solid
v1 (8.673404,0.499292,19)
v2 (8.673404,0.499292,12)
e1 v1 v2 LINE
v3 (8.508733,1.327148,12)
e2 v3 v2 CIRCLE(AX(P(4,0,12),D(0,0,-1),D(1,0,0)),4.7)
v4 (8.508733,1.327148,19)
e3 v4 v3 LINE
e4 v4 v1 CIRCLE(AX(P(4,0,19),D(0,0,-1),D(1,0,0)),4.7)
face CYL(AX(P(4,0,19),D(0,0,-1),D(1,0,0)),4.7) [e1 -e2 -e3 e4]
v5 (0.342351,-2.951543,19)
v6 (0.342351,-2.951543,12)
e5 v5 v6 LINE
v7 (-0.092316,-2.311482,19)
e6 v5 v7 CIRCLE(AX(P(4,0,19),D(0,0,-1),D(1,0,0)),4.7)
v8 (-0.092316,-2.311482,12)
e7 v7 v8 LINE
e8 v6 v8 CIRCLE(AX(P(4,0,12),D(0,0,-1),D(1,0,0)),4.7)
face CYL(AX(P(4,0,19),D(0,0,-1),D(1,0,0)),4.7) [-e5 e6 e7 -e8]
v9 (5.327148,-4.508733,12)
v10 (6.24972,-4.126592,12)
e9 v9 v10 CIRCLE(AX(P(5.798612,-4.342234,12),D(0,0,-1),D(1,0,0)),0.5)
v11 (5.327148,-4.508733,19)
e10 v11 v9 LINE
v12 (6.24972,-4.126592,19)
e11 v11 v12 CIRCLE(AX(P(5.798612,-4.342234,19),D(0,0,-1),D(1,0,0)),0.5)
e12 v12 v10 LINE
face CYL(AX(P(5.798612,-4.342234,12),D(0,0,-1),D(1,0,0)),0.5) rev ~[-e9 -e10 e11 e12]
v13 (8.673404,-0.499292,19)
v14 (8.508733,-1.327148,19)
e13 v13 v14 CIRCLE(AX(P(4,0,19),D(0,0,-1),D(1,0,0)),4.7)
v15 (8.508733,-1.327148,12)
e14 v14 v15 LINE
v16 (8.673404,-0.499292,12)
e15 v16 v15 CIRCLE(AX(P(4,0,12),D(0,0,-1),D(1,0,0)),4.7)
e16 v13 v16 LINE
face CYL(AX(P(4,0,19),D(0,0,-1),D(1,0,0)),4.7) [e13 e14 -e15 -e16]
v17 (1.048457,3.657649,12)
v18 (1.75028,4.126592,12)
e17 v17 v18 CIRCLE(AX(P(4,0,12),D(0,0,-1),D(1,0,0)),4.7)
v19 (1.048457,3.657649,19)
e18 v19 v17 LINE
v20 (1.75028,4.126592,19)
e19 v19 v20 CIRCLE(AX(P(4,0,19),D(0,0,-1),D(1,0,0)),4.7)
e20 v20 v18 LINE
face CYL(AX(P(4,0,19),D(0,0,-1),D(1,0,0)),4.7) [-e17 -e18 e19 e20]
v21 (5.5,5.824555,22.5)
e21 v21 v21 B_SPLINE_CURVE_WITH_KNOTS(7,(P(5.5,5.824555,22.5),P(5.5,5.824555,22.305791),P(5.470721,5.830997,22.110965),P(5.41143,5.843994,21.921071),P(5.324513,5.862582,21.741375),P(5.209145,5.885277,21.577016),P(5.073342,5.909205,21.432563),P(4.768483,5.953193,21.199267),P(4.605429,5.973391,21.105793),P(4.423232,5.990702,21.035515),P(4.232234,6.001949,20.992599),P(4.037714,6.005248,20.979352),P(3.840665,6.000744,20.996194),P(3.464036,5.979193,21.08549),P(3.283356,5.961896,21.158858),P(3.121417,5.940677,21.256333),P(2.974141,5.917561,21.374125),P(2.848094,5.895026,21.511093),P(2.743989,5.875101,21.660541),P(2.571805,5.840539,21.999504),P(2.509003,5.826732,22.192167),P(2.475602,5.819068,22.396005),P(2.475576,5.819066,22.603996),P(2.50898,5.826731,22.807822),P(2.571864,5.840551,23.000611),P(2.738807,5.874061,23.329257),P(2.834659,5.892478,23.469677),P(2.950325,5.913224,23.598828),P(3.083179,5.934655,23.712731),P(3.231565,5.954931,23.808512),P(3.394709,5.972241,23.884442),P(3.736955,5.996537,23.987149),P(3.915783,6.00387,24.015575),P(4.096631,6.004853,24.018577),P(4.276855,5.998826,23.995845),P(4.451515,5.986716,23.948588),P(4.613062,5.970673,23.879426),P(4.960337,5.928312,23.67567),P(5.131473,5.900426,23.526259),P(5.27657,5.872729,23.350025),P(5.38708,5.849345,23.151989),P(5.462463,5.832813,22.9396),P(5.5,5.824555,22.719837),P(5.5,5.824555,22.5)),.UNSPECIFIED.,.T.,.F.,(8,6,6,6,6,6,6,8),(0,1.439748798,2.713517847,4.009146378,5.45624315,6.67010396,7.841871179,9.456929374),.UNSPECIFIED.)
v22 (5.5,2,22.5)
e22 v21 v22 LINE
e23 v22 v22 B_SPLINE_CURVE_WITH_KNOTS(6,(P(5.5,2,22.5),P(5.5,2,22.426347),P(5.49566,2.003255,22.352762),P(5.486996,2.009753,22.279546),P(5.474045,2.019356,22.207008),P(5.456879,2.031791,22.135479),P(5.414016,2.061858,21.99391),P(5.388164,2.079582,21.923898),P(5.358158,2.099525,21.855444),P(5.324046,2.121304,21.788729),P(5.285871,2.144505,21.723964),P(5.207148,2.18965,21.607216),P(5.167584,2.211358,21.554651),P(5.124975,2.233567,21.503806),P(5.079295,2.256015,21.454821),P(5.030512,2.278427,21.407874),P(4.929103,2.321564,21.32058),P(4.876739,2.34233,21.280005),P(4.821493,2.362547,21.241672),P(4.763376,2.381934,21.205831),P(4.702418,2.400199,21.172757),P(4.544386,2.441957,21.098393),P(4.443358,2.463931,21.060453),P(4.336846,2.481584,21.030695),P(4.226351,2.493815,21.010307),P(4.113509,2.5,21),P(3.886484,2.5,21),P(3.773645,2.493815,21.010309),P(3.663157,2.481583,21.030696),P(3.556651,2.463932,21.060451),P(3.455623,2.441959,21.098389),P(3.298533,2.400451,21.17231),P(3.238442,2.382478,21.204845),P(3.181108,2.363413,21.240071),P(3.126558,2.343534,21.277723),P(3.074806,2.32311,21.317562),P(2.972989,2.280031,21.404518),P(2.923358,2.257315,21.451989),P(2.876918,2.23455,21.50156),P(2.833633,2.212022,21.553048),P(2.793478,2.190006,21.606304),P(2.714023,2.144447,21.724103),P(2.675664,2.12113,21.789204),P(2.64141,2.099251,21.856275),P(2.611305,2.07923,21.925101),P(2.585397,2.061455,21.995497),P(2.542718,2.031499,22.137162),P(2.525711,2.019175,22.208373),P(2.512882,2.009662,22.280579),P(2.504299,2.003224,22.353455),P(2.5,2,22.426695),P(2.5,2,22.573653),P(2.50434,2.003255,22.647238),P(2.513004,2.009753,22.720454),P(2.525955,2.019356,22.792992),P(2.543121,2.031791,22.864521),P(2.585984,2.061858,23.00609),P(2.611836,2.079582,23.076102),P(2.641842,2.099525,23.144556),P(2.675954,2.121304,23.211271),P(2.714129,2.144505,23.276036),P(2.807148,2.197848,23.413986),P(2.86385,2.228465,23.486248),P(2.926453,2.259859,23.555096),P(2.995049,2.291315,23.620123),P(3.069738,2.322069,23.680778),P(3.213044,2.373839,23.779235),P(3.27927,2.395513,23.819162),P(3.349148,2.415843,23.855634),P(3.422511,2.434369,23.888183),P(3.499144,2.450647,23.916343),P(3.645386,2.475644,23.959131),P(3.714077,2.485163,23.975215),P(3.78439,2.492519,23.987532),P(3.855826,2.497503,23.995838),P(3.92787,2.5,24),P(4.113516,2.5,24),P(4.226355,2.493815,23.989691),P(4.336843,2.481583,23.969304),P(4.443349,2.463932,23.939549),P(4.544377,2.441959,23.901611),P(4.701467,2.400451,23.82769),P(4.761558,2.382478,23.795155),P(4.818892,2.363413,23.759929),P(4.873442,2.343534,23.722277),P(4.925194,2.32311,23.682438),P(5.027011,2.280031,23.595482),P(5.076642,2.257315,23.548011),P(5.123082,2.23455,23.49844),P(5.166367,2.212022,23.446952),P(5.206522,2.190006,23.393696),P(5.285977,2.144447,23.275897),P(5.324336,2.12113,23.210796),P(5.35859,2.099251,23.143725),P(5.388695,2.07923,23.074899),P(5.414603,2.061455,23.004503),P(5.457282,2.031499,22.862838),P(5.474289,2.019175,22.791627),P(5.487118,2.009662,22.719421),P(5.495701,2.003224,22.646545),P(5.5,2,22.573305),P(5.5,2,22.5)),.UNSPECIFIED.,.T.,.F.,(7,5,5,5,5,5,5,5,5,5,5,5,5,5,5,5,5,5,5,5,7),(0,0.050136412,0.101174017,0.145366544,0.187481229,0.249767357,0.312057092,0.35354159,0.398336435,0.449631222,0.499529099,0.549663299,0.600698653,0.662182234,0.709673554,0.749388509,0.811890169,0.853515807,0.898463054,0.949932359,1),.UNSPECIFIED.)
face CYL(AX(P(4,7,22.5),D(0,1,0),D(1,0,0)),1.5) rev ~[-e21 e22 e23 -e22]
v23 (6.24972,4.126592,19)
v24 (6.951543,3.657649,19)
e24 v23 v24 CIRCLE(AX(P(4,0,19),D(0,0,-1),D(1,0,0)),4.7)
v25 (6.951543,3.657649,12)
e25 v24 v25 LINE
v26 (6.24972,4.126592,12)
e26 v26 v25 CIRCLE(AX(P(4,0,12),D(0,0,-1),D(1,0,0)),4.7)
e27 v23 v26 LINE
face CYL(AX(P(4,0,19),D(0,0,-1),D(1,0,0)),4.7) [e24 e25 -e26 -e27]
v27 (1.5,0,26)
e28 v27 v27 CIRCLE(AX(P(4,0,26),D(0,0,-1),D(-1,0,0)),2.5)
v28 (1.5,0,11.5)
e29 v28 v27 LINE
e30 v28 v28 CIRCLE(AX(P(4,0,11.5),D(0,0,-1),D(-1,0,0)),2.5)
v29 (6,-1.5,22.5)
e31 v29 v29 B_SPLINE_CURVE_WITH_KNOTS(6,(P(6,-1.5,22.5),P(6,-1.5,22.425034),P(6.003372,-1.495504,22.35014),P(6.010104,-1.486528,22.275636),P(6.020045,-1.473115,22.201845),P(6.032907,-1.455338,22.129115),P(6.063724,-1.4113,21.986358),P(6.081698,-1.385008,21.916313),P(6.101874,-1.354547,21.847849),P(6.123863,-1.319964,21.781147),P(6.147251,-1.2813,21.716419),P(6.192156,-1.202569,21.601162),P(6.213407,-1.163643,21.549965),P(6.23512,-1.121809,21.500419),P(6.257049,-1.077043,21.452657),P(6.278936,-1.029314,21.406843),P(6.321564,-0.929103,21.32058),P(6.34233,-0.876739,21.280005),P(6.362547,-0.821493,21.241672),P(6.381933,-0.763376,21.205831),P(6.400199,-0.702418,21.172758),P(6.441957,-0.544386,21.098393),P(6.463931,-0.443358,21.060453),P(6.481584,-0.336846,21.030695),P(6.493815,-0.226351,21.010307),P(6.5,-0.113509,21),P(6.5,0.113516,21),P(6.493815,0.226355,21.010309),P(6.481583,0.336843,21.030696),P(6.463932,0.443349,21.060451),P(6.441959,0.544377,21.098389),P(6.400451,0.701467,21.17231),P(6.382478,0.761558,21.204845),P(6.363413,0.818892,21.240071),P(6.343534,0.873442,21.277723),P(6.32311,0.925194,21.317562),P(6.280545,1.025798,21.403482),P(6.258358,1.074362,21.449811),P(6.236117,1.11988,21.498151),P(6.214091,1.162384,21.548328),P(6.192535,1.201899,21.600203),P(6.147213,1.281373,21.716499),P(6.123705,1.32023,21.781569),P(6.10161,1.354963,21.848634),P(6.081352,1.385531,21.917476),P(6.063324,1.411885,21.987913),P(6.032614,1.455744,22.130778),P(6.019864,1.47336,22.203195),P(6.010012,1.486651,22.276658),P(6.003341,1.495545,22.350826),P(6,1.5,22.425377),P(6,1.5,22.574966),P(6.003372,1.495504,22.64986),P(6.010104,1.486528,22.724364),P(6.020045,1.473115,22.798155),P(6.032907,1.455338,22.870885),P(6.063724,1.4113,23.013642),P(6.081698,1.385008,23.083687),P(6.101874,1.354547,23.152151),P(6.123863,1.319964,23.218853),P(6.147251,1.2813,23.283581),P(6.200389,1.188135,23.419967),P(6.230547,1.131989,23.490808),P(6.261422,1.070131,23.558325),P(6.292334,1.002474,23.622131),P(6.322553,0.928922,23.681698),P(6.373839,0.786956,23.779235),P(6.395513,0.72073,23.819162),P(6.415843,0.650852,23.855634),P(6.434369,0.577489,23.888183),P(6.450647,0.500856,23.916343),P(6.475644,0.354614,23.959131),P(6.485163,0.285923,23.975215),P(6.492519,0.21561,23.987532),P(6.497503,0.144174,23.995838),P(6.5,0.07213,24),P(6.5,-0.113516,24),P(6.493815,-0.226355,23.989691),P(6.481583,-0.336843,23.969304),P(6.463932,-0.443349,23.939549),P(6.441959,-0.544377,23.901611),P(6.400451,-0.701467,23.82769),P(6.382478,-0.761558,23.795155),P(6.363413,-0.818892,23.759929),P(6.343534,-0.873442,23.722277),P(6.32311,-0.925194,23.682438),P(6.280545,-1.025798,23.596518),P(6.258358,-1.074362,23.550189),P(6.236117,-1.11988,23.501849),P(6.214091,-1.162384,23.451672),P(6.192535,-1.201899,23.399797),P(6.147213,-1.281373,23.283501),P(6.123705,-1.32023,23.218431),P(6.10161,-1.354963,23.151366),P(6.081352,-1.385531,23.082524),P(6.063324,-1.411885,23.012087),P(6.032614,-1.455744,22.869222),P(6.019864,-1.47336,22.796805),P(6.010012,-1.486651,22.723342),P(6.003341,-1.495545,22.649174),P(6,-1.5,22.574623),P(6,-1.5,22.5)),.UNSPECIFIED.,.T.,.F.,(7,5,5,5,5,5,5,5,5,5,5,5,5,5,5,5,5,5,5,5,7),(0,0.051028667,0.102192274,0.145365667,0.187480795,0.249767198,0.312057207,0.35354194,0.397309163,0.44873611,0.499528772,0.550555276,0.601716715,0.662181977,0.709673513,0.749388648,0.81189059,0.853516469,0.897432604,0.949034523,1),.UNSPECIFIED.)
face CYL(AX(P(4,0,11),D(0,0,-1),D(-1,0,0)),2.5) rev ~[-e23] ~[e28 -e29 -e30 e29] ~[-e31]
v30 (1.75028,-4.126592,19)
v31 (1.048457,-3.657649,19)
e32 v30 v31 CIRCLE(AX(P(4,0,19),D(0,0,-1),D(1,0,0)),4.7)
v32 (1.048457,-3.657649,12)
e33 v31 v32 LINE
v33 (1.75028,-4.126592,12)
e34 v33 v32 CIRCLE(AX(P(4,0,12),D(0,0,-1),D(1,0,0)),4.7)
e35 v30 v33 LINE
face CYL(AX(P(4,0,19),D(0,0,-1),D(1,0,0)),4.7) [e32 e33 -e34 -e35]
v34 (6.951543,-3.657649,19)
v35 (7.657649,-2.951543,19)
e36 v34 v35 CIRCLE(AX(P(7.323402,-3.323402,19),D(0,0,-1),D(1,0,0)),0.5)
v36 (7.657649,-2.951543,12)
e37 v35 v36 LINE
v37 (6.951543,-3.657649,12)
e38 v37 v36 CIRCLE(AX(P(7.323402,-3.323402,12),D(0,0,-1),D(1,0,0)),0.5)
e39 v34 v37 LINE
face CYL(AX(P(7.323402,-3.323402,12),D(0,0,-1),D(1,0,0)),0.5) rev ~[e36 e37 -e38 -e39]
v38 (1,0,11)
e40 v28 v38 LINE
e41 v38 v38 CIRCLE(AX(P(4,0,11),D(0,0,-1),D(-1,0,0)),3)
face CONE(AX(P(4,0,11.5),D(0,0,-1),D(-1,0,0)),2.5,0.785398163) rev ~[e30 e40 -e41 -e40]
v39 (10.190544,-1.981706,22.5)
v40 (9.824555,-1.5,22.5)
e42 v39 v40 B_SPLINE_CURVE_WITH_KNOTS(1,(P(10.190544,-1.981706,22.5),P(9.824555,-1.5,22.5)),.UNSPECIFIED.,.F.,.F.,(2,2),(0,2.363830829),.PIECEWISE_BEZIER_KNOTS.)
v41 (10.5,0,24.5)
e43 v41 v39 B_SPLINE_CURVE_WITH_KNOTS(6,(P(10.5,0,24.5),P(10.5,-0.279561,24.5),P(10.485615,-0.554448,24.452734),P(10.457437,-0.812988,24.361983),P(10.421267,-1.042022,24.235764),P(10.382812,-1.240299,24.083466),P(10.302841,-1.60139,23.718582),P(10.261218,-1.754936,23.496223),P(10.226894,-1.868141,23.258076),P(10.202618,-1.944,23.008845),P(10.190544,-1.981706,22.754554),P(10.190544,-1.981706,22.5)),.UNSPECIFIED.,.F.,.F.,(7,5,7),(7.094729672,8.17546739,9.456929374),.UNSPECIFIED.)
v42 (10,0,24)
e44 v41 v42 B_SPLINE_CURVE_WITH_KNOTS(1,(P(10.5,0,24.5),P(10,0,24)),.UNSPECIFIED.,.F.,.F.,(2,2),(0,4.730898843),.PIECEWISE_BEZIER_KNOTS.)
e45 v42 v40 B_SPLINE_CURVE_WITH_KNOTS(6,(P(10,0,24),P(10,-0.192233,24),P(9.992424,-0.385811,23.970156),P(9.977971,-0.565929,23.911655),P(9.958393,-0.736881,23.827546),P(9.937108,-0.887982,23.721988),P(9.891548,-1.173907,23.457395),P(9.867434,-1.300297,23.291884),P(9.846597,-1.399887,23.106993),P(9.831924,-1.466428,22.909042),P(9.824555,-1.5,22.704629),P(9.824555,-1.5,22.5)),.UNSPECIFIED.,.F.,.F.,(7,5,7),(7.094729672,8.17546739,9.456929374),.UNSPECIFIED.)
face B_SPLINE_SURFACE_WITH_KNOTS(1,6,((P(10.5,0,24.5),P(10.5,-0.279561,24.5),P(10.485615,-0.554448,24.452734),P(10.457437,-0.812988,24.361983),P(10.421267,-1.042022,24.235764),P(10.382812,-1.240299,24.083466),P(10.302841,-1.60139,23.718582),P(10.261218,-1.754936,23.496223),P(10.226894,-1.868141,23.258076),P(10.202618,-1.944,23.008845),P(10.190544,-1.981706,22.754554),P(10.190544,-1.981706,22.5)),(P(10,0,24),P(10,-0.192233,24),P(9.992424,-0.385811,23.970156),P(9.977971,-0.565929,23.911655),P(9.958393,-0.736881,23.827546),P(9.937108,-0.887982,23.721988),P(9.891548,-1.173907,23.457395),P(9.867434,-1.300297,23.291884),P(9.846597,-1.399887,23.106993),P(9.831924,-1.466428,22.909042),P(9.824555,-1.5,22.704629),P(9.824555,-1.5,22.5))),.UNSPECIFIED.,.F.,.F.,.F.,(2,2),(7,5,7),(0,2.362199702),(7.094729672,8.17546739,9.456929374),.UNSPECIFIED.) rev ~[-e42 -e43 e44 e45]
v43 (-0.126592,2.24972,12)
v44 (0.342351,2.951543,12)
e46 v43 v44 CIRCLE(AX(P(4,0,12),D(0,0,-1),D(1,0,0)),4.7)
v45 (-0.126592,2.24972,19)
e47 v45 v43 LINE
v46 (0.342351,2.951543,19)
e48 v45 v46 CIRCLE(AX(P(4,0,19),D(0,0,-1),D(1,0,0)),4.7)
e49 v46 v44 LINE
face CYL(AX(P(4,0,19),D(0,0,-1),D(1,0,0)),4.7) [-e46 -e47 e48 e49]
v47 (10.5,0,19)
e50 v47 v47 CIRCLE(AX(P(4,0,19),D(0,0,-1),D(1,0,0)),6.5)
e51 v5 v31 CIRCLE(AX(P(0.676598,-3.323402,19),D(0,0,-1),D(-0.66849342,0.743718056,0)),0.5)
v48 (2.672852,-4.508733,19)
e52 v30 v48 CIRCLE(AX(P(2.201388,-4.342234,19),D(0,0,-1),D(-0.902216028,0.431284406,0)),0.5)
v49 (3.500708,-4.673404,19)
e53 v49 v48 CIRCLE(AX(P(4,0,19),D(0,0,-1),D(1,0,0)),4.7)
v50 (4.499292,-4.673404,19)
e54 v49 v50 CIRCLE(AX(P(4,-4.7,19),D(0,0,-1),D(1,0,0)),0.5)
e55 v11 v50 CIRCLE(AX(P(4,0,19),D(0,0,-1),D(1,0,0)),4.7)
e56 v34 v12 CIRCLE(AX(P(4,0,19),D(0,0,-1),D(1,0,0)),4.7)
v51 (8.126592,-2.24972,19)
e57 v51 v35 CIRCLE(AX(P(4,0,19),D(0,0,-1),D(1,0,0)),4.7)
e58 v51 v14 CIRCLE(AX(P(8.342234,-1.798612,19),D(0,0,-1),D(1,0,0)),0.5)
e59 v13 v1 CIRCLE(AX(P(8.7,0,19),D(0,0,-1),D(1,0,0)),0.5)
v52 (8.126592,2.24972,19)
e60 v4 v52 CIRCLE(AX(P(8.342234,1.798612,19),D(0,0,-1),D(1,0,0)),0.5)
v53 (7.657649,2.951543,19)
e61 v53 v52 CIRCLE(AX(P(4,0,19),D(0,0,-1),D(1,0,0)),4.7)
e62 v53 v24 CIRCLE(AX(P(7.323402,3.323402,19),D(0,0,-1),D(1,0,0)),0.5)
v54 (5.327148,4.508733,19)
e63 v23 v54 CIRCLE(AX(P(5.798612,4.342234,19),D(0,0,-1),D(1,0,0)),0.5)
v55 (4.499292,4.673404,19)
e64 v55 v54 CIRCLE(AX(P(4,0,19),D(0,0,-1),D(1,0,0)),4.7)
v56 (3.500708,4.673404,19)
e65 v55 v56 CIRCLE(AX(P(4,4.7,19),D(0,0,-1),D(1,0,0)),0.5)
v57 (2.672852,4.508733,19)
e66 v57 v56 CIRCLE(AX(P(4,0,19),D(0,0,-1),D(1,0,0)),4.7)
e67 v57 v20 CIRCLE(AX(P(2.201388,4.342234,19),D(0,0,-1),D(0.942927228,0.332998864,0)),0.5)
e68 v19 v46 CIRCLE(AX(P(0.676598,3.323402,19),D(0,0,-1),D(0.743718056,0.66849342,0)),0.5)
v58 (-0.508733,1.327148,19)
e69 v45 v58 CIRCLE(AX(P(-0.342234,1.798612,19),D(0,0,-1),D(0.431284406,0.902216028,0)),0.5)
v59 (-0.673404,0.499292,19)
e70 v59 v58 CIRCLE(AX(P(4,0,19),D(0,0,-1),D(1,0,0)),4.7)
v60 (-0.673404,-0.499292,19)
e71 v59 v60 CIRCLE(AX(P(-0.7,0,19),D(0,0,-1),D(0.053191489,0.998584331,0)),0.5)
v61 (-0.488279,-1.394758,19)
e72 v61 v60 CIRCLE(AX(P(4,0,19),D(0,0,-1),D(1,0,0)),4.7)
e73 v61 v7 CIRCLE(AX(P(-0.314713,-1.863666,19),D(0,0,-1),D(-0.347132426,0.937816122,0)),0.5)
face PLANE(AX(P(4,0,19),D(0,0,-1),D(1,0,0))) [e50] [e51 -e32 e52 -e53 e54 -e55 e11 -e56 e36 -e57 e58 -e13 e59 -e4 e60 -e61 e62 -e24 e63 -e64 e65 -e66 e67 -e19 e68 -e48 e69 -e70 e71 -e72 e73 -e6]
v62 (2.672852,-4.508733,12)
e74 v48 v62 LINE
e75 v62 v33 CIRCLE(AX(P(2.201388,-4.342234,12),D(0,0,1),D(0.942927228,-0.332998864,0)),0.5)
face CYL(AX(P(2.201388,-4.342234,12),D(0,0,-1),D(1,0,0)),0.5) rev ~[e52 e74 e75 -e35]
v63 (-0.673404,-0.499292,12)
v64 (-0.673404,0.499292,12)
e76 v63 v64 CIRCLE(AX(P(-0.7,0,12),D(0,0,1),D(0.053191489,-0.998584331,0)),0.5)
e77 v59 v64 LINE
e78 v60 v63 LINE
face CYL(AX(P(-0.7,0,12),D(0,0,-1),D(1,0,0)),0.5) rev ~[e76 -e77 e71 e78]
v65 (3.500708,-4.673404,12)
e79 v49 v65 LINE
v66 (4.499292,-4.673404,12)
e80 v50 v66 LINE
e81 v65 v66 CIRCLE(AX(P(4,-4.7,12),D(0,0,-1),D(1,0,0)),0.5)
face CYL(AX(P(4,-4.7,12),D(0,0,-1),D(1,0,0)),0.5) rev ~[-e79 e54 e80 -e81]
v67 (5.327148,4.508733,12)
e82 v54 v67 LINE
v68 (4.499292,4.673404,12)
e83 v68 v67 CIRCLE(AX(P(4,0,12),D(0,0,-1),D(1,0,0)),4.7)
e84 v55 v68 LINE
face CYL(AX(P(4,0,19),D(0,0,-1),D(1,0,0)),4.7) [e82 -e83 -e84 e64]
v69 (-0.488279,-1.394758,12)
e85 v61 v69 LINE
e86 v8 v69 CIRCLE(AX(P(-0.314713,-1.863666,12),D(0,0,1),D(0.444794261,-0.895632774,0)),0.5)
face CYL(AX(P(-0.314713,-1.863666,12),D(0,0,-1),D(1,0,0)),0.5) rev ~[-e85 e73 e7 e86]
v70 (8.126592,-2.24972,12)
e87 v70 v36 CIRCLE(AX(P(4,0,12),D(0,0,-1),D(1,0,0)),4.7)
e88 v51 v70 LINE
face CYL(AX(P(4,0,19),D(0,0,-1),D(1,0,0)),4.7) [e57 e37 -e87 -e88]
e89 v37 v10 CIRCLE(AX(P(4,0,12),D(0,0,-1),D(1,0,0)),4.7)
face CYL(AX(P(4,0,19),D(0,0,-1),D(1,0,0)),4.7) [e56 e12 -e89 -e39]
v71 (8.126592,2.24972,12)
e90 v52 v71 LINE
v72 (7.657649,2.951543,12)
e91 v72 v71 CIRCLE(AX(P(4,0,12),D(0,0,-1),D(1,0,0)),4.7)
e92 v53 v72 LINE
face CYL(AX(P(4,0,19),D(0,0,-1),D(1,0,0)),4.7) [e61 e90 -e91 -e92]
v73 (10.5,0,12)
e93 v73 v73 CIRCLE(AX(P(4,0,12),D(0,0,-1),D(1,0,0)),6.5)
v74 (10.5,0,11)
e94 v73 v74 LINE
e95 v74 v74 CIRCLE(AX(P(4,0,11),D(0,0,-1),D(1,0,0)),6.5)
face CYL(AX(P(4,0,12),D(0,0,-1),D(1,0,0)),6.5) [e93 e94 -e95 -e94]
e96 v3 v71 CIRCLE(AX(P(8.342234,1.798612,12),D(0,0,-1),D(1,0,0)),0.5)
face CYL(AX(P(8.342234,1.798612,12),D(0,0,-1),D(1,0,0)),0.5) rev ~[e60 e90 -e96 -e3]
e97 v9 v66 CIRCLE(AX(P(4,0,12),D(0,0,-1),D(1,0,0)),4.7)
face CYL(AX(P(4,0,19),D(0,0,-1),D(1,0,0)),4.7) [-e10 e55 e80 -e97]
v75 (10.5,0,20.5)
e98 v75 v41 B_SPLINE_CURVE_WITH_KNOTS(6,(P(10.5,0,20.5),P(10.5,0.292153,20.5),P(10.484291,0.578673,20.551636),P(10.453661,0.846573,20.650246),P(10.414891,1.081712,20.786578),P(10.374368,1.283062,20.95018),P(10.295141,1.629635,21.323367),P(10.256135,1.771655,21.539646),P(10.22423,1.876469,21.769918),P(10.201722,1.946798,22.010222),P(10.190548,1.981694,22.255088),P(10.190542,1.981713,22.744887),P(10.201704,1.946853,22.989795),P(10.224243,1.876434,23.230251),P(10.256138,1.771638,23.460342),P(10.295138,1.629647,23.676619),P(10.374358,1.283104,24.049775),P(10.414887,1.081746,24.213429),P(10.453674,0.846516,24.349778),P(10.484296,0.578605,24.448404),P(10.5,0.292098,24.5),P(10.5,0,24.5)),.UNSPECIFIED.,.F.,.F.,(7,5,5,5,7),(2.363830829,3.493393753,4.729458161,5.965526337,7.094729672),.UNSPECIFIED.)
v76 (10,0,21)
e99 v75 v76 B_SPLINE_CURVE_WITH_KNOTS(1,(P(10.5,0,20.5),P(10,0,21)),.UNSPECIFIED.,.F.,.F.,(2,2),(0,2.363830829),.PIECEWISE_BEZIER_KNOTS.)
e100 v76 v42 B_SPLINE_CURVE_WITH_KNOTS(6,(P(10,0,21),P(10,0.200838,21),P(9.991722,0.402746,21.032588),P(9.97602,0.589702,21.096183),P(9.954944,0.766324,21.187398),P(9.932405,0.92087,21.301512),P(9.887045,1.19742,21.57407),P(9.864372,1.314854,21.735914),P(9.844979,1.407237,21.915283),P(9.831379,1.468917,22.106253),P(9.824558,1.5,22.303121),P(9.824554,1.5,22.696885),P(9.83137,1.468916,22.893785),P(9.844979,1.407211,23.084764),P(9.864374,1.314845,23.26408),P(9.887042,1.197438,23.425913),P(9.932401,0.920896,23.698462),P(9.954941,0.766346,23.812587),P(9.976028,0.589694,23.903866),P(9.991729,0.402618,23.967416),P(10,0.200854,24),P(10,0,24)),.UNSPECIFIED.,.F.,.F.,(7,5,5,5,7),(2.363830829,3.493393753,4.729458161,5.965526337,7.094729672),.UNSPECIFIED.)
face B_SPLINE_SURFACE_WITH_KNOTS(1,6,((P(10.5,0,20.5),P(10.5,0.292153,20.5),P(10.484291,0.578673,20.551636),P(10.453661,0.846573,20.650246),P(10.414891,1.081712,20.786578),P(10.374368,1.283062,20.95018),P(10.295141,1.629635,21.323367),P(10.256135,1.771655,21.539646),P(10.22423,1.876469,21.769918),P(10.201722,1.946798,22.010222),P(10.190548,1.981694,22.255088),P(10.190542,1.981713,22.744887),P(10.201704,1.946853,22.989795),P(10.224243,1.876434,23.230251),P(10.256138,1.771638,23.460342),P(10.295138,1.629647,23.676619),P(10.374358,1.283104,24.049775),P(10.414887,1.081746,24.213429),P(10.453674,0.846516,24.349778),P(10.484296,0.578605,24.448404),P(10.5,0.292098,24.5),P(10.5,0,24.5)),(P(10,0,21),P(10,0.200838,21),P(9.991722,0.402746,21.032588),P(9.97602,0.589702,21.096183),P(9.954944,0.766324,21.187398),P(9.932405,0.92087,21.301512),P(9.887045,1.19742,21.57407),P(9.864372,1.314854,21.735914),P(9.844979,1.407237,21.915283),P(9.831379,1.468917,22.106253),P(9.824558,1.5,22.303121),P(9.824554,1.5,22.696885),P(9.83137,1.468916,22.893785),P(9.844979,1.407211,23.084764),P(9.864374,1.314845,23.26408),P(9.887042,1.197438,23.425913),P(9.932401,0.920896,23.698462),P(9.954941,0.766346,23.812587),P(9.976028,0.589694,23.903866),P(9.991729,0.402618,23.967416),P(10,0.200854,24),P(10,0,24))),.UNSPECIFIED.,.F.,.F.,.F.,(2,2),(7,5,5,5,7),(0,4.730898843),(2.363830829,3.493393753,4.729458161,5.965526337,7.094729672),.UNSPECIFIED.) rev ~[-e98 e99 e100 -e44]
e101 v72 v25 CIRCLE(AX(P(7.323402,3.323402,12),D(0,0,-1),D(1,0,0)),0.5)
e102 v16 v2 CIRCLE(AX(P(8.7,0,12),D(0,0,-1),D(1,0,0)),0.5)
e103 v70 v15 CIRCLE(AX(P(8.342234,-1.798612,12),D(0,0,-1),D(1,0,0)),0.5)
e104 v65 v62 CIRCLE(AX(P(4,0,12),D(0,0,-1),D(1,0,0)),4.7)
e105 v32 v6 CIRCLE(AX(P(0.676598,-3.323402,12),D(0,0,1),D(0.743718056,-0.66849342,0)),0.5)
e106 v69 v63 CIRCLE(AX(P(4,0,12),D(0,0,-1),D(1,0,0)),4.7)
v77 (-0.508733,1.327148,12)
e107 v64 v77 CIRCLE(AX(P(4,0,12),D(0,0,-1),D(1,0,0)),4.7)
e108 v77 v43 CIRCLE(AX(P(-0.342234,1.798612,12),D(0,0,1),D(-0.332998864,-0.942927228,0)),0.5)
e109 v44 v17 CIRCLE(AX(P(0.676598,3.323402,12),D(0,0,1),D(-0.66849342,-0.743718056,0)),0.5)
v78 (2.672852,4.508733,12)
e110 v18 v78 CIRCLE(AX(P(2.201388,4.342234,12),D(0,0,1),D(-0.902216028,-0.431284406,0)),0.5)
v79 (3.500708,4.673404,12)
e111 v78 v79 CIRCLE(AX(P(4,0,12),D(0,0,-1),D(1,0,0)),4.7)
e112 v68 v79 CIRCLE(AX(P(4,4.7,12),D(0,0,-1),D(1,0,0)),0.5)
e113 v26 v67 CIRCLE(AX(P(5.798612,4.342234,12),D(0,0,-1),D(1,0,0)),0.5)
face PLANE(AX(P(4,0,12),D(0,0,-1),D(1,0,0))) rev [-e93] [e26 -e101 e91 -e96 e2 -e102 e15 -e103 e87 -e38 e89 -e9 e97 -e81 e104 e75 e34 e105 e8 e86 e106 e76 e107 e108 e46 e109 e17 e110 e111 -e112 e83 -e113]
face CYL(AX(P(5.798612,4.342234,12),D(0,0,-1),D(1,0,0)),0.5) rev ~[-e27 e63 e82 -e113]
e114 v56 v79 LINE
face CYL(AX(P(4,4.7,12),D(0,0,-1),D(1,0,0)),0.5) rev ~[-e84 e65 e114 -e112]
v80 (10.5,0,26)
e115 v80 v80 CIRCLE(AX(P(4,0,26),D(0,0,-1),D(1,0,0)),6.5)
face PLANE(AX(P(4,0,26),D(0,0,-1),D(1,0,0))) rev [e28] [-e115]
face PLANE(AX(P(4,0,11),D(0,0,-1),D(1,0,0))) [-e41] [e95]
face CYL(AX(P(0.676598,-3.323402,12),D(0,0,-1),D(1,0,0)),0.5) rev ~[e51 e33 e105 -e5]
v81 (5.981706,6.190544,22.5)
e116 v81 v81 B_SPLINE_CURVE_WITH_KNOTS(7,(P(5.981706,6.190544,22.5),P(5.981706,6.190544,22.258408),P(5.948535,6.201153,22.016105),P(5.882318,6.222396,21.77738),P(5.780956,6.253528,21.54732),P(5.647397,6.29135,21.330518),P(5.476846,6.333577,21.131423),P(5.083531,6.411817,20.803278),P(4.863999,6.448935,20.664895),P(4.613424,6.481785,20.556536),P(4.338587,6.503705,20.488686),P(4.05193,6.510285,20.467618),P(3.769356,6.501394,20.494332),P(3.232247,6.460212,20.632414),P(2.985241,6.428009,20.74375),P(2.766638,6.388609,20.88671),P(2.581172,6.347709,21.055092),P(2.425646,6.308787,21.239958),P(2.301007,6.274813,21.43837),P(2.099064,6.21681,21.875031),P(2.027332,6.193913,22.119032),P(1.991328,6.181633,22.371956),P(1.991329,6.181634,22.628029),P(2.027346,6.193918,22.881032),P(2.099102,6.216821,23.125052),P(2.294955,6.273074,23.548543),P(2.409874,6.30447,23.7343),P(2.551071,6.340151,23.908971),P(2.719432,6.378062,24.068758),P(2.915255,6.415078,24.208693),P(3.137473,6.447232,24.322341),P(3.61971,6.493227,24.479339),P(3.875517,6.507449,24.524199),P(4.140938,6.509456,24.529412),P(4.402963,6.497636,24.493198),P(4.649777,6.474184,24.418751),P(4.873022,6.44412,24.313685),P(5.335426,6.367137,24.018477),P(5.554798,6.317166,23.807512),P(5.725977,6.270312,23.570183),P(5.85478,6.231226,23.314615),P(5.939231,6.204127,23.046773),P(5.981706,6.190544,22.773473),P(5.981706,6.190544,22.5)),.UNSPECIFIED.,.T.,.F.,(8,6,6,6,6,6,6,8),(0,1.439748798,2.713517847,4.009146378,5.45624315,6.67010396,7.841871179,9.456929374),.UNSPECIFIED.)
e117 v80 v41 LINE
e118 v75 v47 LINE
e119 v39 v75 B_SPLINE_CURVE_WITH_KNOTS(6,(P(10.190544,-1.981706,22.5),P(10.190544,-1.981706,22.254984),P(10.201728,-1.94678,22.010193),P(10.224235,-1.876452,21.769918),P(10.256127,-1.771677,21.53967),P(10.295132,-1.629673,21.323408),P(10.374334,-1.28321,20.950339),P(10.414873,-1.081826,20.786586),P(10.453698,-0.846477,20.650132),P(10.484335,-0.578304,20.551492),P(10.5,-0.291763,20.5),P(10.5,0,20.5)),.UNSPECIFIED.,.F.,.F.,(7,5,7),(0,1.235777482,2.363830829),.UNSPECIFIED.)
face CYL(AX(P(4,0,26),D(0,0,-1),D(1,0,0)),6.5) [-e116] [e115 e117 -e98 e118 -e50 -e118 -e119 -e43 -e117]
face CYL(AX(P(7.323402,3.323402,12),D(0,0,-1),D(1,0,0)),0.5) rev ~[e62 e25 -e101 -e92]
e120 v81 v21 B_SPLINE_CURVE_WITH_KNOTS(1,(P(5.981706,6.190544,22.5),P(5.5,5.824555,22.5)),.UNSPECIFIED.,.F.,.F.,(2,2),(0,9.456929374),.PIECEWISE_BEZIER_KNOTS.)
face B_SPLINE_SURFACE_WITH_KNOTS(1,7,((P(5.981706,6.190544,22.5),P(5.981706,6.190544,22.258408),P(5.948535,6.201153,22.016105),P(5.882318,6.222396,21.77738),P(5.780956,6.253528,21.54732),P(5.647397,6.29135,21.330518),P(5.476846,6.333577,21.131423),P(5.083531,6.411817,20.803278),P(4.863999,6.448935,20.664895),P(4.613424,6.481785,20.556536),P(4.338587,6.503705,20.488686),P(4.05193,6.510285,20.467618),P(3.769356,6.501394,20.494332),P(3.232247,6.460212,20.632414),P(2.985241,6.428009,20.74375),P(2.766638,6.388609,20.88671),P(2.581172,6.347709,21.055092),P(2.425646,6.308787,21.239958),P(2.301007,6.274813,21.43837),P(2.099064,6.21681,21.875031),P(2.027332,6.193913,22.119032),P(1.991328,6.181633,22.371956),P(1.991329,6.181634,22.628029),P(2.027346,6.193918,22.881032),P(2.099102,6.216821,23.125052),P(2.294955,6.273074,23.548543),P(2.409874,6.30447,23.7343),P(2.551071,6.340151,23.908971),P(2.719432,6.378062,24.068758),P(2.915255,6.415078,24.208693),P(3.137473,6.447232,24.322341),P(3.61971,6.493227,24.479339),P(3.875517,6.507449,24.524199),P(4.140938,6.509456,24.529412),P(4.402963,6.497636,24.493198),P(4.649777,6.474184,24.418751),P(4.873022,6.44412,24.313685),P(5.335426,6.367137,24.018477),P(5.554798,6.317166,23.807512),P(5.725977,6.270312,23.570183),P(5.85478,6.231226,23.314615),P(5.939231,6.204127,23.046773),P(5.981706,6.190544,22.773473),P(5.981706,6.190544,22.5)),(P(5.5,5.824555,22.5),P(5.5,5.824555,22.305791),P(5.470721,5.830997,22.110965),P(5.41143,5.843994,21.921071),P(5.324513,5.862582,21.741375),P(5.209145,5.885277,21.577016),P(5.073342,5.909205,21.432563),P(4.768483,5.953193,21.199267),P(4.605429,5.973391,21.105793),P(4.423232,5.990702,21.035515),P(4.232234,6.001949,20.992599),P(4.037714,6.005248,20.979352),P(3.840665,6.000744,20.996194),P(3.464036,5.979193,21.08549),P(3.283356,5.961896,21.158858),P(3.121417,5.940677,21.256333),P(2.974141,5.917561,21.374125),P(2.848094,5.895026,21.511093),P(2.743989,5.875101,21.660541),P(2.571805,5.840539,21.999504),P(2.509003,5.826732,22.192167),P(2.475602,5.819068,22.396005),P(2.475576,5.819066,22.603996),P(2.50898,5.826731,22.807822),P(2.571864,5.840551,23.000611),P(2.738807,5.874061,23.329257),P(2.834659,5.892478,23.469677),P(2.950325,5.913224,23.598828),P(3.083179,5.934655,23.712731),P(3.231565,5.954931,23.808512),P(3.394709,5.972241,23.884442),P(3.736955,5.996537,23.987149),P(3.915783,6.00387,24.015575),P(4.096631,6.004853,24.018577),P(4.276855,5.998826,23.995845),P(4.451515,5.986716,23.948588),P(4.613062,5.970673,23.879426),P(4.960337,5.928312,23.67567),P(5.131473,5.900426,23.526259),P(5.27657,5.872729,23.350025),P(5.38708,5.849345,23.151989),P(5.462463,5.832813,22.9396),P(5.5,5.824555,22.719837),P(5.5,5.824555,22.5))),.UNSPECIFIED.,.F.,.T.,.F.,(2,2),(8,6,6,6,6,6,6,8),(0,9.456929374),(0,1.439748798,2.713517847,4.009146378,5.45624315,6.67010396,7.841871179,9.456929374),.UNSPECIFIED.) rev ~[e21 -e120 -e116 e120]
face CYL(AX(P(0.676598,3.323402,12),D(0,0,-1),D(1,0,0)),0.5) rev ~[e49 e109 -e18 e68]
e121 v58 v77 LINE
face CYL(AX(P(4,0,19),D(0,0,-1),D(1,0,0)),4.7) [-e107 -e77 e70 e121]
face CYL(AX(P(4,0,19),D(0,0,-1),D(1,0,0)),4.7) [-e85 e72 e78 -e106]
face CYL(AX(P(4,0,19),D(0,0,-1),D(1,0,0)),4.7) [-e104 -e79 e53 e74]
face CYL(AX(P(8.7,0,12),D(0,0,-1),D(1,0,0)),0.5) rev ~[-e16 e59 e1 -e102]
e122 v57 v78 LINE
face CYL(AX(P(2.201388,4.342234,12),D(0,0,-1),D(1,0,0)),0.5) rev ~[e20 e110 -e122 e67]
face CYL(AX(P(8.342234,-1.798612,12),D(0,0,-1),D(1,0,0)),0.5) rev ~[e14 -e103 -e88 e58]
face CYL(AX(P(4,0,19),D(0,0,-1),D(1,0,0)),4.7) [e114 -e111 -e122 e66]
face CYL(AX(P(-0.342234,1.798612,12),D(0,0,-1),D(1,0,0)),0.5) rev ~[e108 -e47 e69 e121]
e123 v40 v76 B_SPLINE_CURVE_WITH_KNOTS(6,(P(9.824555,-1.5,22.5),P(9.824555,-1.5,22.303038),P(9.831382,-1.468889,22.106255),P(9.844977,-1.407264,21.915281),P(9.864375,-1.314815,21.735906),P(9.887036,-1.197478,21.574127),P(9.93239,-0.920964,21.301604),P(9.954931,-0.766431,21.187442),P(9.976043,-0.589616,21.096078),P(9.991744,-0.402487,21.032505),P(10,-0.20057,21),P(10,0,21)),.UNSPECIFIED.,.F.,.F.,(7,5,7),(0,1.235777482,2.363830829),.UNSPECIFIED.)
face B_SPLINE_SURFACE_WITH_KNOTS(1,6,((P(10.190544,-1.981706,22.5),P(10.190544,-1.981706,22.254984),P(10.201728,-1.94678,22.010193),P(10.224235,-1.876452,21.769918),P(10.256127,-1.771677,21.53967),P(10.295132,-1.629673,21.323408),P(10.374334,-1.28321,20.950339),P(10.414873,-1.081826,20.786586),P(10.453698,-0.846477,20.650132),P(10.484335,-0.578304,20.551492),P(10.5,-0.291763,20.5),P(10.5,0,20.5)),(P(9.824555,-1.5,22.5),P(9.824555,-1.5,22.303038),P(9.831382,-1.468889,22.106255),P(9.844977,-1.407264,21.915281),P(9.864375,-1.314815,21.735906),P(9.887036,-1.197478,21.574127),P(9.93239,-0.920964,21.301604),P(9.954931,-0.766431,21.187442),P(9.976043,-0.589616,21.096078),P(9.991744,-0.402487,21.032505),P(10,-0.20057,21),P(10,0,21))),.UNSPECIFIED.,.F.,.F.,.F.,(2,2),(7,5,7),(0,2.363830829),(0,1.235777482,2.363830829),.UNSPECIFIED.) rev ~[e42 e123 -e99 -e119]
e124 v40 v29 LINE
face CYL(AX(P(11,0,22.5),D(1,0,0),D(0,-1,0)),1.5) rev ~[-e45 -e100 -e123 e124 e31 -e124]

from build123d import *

# Parameters (mm, degrees)
SKETCH053_R            = 0.5
PAD041_DEPTH           = 7
SKETCH078_R            = 1.5
PAD057_DEPTH           = 8
SKETCH076_R            = 1.5
PAD049_DEPTH           = 8
SKETCH077_R            = 2.5
POCKET003_DEPTH        = 15
CHAMFER_SIZE           = 0.5
CHAMFER001_SIZE        = 0.5
CUT002_PLACEMENT_ANGLE = 180


with BuildPart() as pad041:
    # Sketch053 → Pad041 (new body)
    with BuildSketch(Plane.XY.offset(14)):
        with Locations((0, 4.7)):
            Circle(SKETCH053_R)
        with Locations((0, -4.7)):
            Circle(SKETCH053_R)
        with Locations((4.7, 0)):
            Circle(SKETCH053_R)
        with Locations((-4.7, 0)):
            Circle(SKETCH053_R)
        with Locations((-3.323402, 3.323402)):
            Circle(SKETCH053_R)
        with Locations((3.323402, 3.323402)):
            Circle(SKETCH053_R)
        with Locations((-3.323402, -3.323402)):
            Circle(SKETCH053_R)
        with Locations((3.323402, -3.323402)):
            Circle(SKETCH053_R)
        with Locations((-1.798612, 4.342234)):
            Circle(SKETCH053_R)
        with Locations((1.798612, 4.342234)):
            Circle(SKETCH053_R)
        with Locations((4.342234, 1.798612)):
            Circle(SKETCH053_R)
        with Locations((4.342234, -1.798612)):
            Circle(SKETCH053_R)
        with Locations((1.798612, -4.342234)):
            Circle(SKETCH053_R)
        with Locations((-1.798612, -4.342234)):
            Circle(SKETCH053_R)
        with Locations((-4.342234, -1.798612)):
            Circle(SKETCH053_R)
        with Locations((-4.314713, 1.863666)):
            Circle(SKETCH053_R)
    extrude(amount=-PAD041_DEPTH)


with BuildPart() as pad057:
    # Sketch078 → Pad057 (new body)
    with BuildSketch(Plane(origin=(7, 0, 3.5), x_dir=(0, 1, 0), z_dir=(1, 0, 0))):
        Circle(SKETCH078_R)
    extrude(amount=-PAD057_DEPTH)


with BuildPart() as pad049:
    # Sketch076 → Pad049 (new body)
    with BuildSketch(Plane(origin=(0, -7, 3.5), x_dir=(1, 0, 0), z_dir=(0, -1, 0))):
        Circle(SKETCH076_R)
    extrude(amount=-PAD049_DEPTH)


with BuildPart() as gt1_pulley:
    # Sketch062 → Revolution008 (revolve)
    with BuildSketch(Plane.XZ):
        Polygon((0, 0), (6.5, 0), (6.5, 7), (4.7, 7), (4.7, 14), (6.5, 14), (6.5, 15), (0, 15), align=None)
    revolve(axis=Axis((0, 0, 0), (0, 0, 1)))

    # Sketch077 (on Face7 of Revolution008) → Pocket003 (cut)
    with BuildSketch(Plane(origin=(0, 0, 15), x_dir=(-1, 0, 0), z_dir=(0, 0, 1))):
        Circle(SKETCH077_R)
    extrude(amount=-POCKET003_DEPTH, mode=Mode.SUBTRACT)

    # Cut: cut Pad049
    add(pad049.part, mode=Mode.SUBTRACT)

    # Cut001: cut Pad057
    add(pad057.part, mode=Mode.SUBTRACT)

    # Chamfer
    chamfer_edges = [gt1_pulley.edges().sort_by_distance(p)[0] for p in [
        (-4e-06, -6.499997, 4.999986),
        (-4e-06, -6.499997, 2.000014),
        (6.412872, 1.060693, 4.560627),
        (6.412872, 1.060693, 2.439373),
        (6.412872, -1.060693, 2.439373),
        (6.412872, -1.060693, 4.560627),
    ]]
    chamfer(chamfer_edges, length=CHAMFER_SIZE)

    # Chamfer001
    chamfer001_edges = [gt1_pulley.edges().sort_by_distance(p)[0] for p in [
        (2.5, 0, 15),
    ]]
    chamfer(chamfer001_edges, length=CHAMFER001_SIZE)

    # Cut002: cut Pad041
    add(pad041.part, mode=Mode.SUBTRACT)


with BuildPart() as gt1_pulley_1:
    # Cut002 placement: moved
    add(gt1_pulley.part.moved(Location((4, 0, 26))).rotate(Axis((4, 0, 26), (1, 0, 0)), CUT002_PLACEMENT_ANGLE))


solid = gt1_pulley_1.part
